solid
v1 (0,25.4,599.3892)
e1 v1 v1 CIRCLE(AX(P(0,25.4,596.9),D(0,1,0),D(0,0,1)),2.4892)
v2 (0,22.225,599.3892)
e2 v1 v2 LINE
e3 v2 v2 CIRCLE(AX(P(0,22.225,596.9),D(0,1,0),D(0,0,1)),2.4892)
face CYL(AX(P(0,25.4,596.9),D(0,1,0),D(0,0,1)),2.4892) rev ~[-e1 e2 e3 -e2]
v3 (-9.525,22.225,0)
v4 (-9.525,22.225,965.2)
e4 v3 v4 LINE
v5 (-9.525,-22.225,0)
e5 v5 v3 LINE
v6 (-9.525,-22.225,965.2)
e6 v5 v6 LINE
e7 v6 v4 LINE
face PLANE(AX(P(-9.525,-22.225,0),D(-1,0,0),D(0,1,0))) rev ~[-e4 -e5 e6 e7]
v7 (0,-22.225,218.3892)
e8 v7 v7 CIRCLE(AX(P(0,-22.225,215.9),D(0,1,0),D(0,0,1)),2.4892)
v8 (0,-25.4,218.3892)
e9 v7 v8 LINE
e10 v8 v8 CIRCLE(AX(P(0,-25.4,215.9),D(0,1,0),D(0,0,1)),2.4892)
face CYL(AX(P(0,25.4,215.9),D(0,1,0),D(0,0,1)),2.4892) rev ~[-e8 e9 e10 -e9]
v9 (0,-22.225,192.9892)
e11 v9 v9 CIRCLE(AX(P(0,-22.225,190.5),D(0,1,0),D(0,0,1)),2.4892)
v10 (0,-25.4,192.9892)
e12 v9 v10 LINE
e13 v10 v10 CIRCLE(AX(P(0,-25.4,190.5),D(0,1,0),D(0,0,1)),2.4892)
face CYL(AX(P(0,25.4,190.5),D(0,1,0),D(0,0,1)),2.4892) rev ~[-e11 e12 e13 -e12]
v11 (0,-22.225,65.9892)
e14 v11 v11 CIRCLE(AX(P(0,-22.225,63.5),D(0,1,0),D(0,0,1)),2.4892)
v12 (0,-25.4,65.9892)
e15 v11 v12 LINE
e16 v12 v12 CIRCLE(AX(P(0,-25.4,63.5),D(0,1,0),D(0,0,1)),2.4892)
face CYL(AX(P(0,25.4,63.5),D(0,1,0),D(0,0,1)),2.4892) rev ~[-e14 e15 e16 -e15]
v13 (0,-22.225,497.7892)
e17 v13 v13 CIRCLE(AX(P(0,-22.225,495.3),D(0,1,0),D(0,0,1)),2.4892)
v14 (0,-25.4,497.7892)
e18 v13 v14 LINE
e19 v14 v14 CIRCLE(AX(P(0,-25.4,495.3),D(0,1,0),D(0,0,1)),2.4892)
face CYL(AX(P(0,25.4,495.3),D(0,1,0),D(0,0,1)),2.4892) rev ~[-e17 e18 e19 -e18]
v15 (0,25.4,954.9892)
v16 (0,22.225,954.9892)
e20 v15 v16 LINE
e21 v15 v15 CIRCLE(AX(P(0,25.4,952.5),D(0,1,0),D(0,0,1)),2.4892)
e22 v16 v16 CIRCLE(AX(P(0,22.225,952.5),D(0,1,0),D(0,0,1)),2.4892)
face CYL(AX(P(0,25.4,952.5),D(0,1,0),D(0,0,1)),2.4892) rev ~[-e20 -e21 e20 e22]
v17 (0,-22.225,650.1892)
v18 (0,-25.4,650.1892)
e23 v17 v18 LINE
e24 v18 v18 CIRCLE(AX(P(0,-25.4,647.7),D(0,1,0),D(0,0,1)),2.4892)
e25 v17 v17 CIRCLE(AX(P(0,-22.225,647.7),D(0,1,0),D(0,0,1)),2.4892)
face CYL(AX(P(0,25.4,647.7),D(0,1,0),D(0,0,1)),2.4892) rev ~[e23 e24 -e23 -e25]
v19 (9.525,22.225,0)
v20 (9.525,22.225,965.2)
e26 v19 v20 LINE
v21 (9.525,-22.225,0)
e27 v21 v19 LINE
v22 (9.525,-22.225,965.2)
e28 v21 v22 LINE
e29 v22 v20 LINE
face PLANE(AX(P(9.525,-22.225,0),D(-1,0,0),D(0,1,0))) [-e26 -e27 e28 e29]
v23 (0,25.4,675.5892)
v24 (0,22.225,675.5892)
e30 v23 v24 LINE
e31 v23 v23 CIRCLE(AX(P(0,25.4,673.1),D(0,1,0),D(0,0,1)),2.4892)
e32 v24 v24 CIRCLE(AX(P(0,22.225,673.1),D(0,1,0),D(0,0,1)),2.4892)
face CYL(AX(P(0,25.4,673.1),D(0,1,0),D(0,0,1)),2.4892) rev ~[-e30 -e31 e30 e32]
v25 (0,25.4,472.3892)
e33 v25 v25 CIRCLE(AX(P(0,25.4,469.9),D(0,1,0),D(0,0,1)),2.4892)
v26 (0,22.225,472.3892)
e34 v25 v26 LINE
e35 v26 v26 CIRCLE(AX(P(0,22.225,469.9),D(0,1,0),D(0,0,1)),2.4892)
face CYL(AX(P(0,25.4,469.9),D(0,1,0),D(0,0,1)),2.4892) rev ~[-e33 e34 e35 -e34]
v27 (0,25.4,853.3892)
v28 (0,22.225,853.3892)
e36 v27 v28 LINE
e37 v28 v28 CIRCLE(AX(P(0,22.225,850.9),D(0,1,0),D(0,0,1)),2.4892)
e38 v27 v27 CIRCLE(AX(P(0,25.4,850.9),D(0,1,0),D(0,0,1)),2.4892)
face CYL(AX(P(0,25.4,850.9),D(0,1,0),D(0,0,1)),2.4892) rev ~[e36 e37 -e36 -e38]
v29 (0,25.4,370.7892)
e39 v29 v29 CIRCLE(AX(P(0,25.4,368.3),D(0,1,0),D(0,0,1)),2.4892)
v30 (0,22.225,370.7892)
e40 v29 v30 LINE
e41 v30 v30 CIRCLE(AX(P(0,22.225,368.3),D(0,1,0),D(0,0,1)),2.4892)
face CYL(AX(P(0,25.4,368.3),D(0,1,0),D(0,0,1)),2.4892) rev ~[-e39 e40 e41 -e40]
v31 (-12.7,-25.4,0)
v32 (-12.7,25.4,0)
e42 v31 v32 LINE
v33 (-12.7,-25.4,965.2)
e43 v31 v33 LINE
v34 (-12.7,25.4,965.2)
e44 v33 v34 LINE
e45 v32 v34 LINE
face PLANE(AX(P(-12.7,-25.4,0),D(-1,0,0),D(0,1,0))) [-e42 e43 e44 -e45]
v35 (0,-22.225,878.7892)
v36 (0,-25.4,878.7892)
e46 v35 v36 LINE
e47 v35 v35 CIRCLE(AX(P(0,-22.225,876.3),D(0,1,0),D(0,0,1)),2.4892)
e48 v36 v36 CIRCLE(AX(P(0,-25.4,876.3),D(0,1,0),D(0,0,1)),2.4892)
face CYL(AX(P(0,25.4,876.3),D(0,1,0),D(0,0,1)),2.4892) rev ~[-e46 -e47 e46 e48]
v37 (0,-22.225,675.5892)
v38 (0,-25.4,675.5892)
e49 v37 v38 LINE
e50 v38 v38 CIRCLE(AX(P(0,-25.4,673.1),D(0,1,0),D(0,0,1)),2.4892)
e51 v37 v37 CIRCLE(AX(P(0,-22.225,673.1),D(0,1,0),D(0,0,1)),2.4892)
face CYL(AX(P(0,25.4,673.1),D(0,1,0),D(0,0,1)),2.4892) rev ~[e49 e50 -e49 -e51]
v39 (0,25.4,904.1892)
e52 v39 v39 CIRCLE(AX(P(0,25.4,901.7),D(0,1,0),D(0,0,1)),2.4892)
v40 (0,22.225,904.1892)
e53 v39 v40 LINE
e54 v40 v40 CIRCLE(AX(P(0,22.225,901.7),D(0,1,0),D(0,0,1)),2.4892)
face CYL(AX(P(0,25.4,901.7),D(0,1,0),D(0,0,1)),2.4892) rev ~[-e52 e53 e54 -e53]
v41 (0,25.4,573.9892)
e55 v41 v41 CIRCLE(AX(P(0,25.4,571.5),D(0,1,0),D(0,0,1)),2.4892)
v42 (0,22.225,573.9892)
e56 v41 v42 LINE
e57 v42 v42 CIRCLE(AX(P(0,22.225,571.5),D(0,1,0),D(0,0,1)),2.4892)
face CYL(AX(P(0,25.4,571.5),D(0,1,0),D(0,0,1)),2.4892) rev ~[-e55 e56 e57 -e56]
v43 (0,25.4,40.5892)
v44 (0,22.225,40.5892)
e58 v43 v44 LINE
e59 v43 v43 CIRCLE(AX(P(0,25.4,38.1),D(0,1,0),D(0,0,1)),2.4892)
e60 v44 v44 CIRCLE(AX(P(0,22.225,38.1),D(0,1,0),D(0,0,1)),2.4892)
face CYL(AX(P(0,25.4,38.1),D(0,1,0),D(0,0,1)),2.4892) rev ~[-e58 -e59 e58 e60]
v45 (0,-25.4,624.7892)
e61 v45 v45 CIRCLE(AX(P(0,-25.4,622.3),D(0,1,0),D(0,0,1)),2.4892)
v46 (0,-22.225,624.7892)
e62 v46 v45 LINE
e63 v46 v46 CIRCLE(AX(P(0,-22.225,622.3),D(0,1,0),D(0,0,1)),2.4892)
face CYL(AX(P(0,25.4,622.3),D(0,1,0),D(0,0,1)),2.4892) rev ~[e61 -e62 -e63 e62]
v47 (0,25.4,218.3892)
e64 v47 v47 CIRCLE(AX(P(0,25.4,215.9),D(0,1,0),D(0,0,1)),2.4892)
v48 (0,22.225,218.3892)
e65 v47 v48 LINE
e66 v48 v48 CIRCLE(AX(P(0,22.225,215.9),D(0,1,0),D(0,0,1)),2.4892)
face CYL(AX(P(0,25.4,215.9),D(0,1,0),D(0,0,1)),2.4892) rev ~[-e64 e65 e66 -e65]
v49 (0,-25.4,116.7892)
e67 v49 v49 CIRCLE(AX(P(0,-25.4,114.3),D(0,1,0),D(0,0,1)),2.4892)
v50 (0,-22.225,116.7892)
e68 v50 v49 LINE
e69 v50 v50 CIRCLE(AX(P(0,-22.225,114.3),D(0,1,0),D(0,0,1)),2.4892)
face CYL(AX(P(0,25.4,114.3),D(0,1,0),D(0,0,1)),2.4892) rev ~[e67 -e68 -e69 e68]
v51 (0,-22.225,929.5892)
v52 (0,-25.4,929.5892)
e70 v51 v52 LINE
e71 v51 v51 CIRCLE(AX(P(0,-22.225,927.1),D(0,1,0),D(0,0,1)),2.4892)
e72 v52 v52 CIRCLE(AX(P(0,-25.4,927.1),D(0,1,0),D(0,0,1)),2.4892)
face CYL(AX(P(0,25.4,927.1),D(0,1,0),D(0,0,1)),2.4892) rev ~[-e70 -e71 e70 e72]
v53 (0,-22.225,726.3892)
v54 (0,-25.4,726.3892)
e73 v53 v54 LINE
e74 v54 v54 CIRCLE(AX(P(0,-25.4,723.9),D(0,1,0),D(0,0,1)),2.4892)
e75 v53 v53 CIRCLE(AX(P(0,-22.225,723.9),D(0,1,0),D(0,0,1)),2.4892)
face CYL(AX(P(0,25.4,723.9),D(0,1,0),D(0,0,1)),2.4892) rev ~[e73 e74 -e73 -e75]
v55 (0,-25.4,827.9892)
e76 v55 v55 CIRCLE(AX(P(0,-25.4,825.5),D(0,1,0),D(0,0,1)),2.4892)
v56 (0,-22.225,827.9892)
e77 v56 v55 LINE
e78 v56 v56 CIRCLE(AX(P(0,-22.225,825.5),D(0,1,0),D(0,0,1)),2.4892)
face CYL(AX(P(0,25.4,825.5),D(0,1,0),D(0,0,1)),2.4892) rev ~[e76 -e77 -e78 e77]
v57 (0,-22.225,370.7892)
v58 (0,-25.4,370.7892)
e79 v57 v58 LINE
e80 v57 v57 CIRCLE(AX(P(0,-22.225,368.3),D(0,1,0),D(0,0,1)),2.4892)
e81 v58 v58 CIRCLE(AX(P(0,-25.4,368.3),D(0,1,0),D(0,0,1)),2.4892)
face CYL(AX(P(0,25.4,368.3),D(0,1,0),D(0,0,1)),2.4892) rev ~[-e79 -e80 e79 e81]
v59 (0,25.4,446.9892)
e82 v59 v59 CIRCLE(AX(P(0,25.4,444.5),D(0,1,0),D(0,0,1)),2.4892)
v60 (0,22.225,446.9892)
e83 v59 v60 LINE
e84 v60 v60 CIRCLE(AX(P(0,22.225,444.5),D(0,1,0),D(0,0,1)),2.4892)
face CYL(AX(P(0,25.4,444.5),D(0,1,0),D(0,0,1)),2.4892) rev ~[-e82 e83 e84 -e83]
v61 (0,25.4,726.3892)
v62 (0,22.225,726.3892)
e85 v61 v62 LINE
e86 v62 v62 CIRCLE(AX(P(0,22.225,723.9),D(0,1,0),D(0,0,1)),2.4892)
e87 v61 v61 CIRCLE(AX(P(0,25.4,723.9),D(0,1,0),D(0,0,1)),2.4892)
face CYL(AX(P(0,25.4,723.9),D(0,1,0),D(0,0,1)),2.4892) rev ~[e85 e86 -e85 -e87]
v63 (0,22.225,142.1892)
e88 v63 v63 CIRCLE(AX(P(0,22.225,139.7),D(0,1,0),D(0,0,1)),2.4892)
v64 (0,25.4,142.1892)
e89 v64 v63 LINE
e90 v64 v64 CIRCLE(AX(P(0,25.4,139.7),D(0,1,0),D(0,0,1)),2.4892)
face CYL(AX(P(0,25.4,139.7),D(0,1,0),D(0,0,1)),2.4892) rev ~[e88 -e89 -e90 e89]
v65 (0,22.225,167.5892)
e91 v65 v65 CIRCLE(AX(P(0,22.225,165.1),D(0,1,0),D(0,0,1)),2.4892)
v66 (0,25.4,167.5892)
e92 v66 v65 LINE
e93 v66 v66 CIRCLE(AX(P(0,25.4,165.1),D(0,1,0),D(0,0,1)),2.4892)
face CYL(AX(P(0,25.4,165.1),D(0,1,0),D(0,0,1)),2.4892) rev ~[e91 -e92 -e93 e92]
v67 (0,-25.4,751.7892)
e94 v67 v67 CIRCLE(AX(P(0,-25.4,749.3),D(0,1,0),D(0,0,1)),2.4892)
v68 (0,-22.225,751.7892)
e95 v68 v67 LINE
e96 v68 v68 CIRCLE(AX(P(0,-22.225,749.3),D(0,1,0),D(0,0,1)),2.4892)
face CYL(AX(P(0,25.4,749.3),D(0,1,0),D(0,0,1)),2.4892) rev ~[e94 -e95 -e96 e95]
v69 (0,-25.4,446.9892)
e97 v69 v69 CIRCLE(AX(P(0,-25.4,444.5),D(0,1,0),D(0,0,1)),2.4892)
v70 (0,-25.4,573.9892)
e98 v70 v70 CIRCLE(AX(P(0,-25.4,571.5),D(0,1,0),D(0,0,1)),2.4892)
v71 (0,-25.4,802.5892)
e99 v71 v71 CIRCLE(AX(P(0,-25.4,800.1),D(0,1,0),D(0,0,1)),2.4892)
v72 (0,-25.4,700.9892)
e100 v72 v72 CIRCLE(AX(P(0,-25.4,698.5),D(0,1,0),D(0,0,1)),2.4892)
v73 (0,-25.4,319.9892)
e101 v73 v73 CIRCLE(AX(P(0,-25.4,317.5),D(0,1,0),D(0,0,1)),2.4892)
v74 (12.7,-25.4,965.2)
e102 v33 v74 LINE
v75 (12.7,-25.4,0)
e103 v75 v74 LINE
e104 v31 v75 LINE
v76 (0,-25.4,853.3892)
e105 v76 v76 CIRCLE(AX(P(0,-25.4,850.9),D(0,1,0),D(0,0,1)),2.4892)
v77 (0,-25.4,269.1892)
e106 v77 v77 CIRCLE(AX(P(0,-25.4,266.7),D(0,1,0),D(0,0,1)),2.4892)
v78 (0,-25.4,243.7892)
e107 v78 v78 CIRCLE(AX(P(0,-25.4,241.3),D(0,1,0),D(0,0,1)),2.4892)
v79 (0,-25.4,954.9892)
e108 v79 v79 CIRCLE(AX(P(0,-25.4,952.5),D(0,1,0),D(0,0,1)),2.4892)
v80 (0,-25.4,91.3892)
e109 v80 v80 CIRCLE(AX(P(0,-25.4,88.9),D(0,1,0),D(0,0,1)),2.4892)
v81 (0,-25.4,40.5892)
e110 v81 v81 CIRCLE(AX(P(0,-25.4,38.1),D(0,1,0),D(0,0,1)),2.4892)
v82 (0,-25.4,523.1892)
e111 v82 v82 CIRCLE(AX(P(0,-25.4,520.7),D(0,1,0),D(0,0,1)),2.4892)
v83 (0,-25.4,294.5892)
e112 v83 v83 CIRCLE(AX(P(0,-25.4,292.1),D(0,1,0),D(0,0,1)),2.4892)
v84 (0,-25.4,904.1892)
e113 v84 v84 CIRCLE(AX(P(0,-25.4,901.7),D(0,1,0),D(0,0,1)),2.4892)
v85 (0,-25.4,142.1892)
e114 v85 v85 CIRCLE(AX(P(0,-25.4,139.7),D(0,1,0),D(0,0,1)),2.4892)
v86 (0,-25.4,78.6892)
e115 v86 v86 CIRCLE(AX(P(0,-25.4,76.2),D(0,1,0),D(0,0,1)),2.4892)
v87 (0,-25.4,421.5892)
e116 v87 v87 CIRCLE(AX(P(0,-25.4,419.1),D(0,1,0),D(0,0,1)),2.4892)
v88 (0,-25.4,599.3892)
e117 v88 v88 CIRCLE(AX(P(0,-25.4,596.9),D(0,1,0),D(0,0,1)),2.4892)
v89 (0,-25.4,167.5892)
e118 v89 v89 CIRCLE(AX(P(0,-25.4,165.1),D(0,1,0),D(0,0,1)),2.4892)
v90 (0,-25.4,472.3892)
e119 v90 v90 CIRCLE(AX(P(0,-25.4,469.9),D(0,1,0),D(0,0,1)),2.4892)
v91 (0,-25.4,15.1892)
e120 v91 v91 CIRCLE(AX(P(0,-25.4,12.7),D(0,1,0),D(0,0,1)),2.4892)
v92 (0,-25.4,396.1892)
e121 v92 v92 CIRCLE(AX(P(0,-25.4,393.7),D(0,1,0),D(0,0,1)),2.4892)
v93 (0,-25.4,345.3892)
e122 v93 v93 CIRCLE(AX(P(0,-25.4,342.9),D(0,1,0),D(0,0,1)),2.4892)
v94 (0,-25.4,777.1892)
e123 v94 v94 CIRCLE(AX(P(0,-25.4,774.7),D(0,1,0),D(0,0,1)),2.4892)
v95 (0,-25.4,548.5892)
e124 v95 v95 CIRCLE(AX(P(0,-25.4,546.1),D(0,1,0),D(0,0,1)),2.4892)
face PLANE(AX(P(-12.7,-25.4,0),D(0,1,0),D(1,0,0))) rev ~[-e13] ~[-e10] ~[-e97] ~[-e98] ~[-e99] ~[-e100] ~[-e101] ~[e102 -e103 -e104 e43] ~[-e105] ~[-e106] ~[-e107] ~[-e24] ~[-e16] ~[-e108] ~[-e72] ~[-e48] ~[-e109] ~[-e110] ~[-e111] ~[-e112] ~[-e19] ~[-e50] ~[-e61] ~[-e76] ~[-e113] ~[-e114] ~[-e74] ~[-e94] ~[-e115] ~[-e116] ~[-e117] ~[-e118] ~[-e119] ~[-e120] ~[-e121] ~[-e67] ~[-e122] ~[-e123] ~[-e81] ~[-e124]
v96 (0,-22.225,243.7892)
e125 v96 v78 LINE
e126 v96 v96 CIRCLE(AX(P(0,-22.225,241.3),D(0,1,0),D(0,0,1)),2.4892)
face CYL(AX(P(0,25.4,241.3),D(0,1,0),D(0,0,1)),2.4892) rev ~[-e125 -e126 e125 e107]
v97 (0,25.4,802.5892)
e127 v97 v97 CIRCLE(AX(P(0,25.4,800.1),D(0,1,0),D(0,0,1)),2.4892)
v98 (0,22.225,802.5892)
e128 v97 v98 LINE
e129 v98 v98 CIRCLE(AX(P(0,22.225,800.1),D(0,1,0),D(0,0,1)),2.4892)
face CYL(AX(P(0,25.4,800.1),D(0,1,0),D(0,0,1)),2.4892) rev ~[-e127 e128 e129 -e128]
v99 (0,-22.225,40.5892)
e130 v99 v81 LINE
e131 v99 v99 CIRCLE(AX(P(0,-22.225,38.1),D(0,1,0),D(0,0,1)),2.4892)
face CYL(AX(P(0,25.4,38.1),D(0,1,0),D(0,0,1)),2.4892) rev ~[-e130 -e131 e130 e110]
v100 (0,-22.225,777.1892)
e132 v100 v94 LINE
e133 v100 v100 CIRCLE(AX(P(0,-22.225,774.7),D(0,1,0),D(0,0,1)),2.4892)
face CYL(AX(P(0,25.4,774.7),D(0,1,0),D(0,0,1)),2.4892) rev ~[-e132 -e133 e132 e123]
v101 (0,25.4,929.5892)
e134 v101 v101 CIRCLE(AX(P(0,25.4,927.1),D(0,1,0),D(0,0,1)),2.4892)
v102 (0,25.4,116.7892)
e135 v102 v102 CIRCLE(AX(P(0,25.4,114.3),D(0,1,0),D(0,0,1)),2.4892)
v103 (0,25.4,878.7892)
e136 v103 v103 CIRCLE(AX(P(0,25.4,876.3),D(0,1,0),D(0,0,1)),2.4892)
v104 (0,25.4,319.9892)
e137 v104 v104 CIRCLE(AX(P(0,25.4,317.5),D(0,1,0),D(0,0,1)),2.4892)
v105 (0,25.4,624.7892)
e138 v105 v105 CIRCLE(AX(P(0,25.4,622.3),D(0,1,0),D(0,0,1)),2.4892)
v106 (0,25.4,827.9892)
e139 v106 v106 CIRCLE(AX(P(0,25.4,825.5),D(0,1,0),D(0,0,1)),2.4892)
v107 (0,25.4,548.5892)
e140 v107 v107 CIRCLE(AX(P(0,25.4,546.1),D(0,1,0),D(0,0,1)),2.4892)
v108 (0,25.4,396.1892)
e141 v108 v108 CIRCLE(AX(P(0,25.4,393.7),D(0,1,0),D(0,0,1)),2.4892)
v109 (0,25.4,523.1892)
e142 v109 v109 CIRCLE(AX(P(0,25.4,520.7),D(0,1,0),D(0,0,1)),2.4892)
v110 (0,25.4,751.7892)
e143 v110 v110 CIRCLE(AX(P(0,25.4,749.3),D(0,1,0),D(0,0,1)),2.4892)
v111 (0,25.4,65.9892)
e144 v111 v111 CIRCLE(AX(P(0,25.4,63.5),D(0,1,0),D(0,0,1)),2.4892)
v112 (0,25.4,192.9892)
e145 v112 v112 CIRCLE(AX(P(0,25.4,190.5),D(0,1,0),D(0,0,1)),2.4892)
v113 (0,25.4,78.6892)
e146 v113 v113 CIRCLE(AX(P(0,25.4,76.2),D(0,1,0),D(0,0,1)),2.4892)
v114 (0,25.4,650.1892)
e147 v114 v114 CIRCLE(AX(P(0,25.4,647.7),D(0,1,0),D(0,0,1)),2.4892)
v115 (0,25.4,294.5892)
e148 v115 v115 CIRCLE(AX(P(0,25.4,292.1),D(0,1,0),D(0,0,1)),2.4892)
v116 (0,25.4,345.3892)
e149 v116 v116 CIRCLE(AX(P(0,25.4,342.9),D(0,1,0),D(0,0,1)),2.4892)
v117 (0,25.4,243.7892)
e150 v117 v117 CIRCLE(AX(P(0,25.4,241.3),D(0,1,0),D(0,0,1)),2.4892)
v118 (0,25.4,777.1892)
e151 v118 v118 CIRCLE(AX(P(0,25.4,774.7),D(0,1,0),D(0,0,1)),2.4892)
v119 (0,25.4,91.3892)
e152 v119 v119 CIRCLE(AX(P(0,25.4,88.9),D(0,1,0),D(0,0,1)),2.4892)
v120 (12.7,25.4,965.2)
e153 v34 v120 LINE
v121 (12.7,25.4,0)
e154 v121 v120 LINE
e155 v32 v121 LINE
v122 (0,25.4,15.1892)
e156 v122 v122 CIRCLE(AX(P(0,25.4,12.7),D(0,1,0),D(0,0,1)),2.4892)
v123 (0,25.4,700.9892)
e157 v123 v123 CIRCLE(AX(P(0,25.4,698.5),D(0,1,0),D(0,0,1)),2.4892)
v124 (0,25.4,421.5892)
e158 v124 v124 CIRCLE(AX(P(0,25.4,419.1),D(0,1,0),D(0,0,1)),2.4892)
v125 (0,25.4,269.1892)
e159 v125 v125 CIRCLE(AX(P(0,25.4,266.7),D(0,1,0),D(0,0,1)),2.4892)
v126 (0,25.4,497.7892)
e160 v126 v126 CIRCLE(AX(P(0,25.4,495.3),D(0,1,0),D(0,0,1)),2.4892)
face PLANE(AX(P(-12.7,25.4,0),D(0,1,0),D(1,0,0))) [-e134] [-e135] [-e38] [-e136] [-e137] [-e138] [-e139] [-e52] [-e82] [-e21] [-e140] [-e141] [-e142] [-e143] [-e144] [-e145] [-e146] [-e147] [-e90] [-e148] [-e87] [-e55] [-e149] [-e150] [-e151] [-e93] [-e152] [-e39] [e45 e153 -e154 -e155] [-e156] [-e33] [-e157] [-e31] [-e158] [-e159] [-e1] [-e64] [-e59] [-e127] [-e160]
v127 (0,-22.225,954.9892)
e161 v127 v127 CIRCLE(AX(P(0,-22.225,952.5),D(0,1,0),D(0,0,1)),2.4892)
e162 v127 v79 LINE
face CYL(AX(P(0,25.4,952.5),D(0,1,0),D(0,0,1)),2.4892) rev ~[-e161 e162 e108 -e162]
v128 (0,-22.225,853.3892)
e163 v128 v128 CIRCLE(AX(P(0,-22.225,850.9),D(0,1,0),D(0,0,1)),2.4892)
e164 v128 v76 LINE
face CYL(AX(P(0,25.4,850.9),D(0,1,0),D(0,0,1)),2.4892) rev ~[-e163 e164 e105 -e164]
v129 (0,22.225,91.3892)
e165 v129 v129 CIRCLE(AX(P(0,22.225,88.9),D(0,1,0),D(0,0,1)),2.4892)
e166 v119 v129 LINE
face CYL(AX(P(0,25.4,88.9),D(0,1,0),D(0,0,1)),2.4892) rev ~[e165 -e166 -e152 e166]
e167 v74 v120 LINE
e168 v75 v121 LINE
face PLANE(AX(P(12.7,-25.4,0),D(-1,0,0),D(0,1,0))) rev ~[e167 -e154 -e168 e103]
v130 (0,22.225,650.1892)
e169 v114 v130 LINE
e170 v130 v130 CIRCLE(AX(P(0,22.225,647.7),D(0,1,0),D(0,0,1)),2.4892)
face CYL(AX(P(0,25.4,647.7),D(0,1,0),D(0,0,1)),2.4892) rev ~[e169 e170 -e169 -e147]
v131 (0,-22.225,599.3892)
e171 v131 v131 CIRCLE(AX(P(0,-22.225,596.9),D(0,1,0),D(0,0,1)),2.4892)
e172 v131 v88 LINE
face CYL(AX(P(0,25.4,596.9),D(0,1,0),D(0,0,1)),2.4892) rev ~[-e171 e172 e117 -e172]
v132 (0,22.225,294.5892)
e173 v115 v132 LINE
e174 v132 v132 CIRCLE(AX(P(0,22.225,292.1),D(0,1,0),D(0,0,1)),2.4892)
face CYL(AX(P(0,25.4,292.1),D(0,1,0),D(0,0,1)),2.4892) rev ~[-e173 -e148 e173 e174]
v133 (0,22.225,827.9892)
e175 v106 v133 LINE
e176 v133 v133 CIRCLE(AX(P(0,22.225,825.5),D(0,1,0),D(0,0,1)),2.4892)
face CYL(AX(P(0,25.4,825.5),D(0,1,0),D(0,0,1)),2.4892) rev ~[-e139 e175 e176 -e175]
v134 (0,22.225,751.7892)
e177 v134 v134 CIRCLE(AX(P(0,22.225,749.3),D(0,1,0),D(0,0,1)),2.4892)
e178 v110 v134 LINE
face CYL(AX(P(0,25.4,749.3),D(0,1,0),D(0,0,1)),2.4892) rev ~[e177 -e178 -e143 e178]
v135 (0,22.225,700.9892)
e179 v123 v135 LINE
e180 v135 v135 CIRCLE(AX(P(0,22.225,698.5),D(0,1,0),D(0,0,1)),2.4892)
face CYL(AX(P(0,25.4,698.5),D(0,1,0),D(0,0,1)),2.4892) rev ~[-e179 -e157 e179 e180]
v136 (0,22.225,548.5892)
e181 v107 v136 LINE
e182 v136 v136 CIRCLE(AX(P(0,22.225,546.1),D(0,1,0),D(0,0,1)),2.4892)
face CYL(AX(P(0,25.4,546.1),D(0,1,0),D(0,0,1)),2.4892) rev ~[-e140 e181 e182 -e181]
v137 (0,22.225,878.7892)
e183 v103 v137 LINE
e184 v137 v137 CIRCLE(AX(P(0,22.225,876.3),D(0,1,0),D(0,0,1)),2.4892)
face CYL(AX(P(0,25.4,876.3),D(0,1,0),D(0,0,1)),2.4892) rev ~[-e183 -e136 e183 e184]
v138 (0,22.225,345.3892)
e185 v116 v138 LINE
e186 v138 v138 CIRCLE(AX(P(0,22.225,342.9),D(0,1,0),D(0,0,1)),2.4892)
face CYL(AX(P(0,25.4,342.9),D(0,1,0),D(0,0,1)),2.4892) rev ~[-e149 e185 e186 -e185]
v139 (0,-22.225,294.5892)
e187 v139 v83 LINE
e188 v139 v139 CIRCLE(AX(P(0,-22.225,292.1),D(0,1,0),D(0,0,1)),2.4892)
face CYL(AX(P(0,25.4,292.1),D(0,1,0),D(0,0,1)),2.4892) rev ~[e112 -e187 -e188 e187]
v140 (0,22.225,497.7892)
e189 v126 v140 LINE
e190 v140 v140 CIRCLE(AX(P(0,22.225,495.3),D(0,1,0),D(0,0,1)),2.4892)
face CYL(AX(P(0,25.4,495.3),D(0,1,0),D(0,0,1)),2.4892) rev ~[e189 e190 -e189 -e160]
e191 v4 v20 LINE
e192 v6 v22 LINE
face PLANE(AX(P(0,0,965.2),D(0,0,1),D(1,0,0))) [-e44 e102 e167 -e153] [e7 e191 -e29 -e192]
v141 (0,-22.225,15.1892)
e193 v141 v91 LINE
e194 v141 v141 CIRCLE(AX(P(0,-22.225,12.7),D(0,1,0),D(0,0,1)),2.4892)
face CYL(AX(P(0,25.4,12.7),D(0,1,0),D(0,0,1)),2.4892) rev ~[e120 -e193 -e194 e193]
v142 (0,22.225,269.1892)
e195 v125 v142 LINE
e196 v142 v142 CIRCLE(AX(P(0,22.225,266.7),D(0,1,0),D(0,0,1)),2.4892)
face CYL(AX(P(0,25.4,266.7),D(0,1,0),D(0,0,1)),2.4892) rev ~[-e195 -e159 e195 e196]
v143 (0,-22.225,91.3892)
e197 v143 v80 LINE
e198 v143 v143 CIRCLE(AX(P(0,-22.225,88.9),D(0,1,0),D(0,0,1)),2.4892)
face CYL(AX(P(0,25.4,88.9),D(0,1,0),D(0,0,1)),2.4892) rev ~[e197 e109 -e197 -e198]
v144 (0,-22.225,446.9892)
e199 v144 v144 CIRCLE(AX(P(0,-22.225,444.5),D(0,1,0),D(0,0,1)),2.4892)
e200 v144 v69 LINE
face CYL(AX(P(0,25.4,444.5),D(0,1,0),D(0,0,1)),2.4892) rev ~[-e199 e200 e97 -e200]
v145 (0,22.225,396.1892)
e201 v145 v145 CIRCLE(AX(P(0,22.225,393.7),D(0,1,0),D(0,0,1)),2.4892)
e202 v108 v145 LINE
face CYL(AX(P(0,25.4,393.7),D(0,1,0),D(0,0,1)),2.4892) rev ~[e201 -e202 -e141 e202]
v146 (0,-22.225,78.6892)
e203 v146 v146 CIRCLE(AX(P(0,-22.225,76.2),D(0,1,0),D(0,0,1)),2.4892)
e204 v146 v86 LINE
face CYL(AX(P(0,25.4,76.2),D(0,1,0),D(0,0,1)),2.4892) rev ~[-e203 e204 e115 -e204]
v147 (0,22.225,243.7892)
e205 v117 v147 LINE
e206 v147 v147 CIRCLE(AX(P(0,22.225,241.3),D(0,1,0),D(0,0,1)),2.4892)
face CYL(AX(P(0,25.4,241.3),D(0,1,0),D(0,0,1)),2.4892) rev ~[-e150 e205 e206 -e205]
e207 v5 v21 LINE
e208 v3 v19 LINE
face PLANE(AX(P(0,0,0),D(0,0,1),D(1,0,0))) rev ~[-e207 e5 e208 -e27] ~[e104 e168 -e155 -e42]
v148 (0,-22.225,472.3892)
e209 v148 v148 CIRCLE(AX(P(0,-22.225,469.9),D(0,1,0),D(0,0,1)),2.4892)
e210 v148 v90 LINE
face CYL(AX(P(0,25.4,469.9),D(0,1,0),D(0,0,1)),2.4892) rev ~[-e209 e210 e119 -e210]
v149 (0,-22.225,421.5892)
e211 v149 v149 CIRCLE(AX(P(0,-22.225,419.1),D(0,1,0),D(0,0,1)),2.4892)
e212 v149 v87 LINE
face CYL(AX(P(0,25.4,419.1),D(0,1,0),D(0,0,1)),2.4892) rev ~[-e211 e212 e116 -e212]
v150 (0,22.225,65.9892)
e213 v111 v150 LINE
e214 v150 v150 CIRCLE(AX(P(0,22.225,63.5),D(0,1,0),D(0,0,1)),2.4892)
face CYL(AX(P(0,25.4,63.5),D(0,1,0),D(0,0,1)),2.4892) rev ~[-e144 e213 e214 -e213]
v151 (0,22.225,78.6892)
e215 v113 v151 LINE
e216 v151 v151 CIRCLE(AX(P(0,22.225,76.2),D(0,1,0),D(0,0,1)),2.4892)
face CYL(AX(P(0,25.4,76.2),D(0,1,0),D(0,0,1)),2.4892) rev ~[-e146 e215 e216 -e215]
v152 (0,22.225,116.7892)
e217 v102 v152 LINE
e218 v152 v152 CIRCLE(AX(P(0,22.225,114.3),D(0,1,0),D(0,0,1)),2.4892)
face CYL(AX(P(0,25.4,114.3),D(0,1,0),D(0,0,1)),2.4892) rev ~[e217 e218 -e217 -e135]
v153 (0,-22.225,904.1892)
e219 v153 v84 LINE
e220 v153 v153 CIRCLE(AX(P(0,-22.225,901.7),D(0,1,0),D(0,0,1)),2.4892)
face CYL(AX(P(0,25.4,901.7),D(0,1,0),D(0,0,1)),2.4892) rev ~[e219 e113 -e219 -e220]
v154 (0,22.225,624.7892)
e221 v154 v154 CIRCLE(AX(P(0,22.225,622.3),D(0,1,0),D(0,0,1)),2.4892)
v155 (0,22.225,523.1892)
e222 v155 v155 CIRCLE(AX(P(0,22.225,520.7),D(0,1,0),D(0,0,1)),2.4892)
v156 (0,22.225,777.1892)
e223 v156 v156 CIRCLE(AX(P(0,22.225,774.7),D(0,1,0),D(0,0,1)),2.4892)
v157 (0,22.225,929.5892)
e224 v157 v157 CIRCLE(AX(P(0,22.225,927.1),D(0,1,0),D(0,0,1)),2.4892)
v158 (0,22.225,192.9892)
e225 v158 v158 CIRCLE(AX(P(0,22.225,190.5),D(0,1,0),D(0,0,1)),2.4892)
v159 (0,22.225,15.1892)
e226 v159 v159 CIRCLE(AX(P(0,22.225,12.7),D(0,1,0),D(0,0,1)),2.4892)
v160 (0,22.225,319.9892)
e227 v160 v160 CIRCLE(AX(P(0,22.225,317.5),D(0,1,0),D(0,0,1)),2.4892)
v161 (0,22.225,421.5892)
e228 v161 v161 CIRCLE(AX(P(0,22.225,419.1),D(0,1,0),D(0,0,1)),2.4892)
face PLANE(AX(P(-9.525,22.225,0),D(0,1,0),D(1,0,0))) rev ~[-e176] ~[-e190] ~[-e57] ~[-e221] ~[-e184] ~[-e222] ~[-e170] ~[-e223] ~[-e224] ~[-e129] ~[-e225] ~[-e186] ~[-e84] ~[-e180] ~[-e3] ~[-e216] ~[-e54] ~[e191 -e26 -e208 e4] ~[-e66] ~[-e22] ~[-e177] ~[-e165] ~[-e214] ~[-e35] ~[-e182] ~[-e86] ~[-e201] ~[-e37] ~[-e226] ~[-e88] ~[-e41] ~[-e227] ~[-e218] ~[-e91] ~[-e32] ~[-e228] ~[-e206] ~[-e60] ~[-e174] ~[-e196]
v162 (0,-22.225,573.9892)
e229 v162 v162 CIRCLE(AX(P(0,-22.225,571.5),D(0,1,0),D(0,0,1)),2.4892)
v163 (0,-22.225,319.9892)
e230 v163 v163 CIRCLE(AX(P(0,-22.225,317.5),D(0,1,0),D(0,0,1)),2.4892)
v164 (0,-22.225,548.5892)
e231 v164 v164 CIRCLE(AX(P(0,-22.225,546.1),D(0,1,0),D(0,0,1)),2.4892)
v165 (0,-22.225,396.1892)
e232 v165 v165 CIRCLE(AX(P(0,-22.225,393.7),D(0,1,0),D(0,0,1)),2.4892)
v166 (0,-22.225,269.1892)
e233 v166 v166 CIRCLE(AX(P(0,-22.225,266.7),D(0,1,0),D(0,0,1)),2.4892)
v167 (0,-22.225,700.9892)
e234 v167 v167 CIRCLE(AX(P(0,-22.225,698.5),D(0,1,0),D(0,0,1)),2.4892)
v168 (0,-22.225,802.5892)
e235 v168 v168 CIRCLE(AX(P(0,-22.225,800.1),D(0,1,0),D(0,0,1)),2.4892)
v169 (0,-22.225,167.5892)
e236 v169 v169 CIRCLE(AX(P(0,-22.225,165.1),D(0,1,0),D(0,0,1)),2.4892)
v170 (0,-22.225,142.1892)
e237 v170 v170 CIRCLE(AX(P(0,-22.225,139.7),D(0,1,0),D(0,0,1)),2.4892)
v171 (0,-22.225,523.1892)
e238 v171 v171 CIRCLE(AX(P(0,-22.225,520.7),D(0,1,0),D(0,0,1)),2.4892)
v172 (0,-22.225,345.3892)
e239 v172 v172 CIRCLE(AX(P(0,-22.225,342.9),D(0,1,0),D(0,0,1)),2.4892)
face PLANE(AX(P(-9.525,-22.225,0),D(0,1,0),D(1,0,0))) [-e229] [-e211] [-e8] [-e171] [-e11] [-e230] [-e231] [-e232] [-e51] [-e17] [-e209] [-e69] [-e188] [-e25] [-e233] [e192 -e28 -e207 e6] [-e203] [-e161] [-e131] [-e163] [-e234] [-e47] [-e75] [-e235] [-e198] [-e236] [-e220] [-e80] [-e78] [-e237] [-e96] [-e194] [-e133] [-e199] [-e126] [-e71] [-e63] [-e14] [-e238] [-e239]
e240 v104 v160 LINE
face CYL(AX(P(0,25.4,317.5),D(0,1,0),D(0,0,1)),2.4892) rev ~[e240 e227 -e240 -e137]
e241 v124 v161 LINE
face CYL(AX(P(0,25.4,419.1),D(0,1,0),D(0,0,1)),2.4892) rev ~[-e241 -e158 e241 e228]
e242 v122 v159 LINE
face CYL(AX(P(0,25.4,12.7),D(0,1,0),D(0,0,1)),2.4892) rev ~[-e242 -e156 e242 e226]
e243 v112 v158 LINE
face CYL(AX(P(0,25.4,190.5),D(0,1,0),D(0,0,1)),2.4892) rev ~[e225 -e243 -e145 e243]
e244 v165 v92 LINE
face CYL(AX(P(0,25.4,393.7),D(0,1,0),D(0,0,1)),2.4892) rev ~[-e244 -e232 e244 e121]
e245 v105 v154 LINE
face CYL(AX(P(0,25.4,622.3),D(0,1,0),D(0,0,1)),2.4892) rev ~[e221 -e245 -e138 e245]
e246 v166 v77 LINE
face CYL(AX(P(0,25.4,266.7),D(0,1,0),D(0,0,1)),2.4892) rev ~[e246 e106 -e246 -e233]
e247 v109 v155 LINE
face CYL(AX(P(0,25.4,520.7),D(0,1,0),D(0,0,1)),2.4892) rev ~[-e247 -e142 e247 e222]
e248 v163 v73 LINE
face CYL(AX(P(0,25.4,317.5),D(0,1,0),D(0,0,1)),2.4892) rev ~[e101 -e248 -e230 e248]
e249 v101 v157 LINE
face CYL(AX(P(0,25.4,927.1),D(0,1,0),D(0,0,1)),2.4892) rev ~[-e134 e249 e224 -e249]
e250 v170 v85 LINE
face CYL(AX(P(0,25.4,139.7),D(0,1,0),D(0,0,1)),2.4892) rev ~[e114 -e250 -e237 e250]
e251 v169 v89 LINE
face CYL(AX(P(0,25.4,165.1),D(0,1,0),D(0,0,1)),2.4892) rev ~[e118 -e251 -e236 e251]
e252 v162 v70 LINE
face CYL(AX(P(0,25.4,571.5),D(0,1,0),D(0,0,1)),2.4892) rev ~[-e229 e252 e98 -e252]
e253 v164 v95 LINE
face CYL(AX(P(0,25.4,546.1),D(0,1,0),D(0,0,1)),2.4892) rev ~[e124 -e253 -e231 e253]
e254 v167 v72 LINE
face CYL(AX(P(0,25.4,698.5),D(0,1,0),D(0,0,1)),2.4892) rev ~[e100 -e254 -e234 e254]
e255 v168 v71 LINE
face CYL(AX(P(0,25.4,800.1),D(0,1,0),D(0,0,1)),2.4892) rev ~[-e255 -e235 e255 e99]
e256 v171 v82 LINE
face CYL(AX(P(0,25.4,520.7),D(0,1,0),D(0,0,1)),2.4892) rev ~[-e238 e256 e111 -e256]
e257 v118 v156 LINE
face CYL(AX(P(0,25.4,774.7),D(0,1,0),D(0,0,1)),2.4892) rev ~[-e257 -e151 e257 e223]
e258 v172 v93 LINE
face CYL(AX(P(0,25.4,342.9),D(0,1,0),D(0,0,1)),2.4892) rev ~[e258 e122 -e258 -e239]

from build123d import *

# Parameters (mm, degrees)
SKETCH1_W           = 25.4
SKETCH1_H           = 50.8
SKETCH1_W_2         = 19.05
SKETCH1_H_2         = 44.45
BOSS_EXTRUDE1_DEPTH = 965.2
SKETCH2_R           = 2.4892
CUT_EXTRUDE1_DEPTH  = 967.619351141


with BuildPart() as part:
    # Sketch1 → Boss-Extrude1 (new body)
    with BuildSketch(Plane.XY):
        Rectangle(SKETCH1_W, SKETCH1_H)
        Rectangle(SKETCH1_W_2, SKETCH1_H_2, mode=Mode.SUBTRACT)
    extrude(amount=BOSS_EXTRUDE1_DEPTH)

    # Sketch2 → Cut-Extrude1 (cut, through all)
    with BuildSketch(Plane(origin=(0, 25.4, 0), x_dir=(1, 0, 0), z_dir=(0, 1, 0))):
        with Locations(Location((0, -12.7, 0), (0, 0, 270))):
            Circle(SKETCH2_R)
        with Locations(Location((0, -38.1, 0), (0, 0, 270))):
            Circle(SKETCH2_R)
        with Locations(Location((0, -63.5, 0), (0, 0, 270))):
            Circle(SKETCH2_R)
        with Locations(Location((0, -88.9, 0), (0, 0, 270))):
            Circle(SKETCH2_R)
        with Locations(Location((0, -114.3, 0), (0, 0, 270))):
            Circle(SKETCH2_R)
        with Locations(Location((0, -139.7, 0), (0, 0, 270))):
            Circle(SKETCH2_R)
        with Locations(Location((0, -165.1, 0), (0, 0, 270))):
            Circle(SKETCH2_R)
        with Locations(Location((0, -190.5, 0), (0, 0, 270))):
            Circle(SKETCH2_R)
        with Locations(Location((0, -215.9, 0), (0, 0, 270))):
            Circle(SKETCH2_R)
        with Locations(Location((0, -241.3, 0), (0, 0, 270))):
            Circle(SKETCH2_R)
        with Locations(Location((0, -266.7, 0), (0, 0, 270))):
            Circle(SKETCH2_R)
        with Locations(Location((0, -292.1, 0), (0, 0, 270))):
            Circle(SKETCH2_R)
        with Locations(Location((0, -317.5, 0), (0, 0, 270))):
            Circle(SKETCH2_R)
        with Locations(Location((0, -342.9, 0), (0, 0, 270))):
            Circle(SKETCH2_R)
        with Locations(Location((0, -368.3, 0), (0, 0, 270))):
            Circle(SKETCH2_R)
        with Locations(Location((0, -393.7, 0), (0, 0, 270))):
            Circle(SKETCH2_R)
        with Locations(Location((0, -419.1, 0), (0, 0, 270))):
            Circle(SKETCH2_R)
        with Locations(Location((0, -444.5, 0), (0, 0, 270))):
            Circle(SKETCH2_R)
        with Locations(Location((0, -469.9, 0), (0, 0, 270))):
            Circle(SKETCH2_R)
        with Locations(Location((0, -495.3, 0), (0, 0, 270))):
            Circle(SKETCH2_R)
        with Locations(Location((0, -520.7, 0), (0, 0, 270))):
            Circle(SKETCH2_R)
        with Locations(Location((0, -546.1, 0), (0, 0, 270))):
            Circle(SKETCH2_R)
        with Locations(Location((0, -571.5, 0), (0, 0, 270))):
            Circle(SKETCH2_R)
        with Locations(Location((0, -596.9, 0), (0, 0, 270))):
            Circle(SKETCH2_R)
        with Locations(Location((0, -622.3, 0), (0, 0, 270))):
            Circle(SKETCH2_R)
        with Locations(Location((0, -647.7, 0), (0, 0, 270))):
            Circle(SKETCH2_R)
        with Locations(Location((0, -673.1, 0), (0, 0, 270))):
            Circle(SKETCH2_R)
        with Locations(Location((0, -698.5, 0), (0, 0, 270))):
            Circle(SKETCH2_R)
        with Locations(Location((0, -723.9, 0), (0, 0, 270))):
            Circle(SKETCH2_R)
        with Locations(Location((0, -749.3, 0), (0, 0, 270))):
            Circle(SKETCH2_R)
        with Locations(Location((0, -774.7, 0), (0, 0, 270))):
            Circle(SKETCH2_R)
        with Locations(Location((0, -800.1, 0), (0, 0, 270))):
            Circle(SKETCH2_R)
        with Locations(Location((0, -825.5, 0), (0, 0, 270))):
            Circle(SKETCH2_R)
        with Locations(Location((0, -850.9, 0), (0, 0, 270))):
            Circle(SKETCH2_R)
        with Locations(Location((0, -876.3, 0), (0, 0, 270))):
            Circle(SKETCH2_R)
        with Locations(Location((0, -901.7, 0), (0, 0, 270))):
            Circle(SKETCH2_R)
        with Locations(Location((0, -927.1, 0), (0, 0, 270))):
            Circle(SKETCH2_R)
        with Locations(Location((0, -952.5, 0), (0, 0, 270))):
            Circle(SKETCH2_R)
        with Locations(Location((0, -76.2, 0), (0, 0, 270))):
            Circle(SKETCH2_R)
    extrude(amount=-CUT_EXTRUDE1_DEPTH, mode=Mode.SUBTRACT)


solid = part.part
